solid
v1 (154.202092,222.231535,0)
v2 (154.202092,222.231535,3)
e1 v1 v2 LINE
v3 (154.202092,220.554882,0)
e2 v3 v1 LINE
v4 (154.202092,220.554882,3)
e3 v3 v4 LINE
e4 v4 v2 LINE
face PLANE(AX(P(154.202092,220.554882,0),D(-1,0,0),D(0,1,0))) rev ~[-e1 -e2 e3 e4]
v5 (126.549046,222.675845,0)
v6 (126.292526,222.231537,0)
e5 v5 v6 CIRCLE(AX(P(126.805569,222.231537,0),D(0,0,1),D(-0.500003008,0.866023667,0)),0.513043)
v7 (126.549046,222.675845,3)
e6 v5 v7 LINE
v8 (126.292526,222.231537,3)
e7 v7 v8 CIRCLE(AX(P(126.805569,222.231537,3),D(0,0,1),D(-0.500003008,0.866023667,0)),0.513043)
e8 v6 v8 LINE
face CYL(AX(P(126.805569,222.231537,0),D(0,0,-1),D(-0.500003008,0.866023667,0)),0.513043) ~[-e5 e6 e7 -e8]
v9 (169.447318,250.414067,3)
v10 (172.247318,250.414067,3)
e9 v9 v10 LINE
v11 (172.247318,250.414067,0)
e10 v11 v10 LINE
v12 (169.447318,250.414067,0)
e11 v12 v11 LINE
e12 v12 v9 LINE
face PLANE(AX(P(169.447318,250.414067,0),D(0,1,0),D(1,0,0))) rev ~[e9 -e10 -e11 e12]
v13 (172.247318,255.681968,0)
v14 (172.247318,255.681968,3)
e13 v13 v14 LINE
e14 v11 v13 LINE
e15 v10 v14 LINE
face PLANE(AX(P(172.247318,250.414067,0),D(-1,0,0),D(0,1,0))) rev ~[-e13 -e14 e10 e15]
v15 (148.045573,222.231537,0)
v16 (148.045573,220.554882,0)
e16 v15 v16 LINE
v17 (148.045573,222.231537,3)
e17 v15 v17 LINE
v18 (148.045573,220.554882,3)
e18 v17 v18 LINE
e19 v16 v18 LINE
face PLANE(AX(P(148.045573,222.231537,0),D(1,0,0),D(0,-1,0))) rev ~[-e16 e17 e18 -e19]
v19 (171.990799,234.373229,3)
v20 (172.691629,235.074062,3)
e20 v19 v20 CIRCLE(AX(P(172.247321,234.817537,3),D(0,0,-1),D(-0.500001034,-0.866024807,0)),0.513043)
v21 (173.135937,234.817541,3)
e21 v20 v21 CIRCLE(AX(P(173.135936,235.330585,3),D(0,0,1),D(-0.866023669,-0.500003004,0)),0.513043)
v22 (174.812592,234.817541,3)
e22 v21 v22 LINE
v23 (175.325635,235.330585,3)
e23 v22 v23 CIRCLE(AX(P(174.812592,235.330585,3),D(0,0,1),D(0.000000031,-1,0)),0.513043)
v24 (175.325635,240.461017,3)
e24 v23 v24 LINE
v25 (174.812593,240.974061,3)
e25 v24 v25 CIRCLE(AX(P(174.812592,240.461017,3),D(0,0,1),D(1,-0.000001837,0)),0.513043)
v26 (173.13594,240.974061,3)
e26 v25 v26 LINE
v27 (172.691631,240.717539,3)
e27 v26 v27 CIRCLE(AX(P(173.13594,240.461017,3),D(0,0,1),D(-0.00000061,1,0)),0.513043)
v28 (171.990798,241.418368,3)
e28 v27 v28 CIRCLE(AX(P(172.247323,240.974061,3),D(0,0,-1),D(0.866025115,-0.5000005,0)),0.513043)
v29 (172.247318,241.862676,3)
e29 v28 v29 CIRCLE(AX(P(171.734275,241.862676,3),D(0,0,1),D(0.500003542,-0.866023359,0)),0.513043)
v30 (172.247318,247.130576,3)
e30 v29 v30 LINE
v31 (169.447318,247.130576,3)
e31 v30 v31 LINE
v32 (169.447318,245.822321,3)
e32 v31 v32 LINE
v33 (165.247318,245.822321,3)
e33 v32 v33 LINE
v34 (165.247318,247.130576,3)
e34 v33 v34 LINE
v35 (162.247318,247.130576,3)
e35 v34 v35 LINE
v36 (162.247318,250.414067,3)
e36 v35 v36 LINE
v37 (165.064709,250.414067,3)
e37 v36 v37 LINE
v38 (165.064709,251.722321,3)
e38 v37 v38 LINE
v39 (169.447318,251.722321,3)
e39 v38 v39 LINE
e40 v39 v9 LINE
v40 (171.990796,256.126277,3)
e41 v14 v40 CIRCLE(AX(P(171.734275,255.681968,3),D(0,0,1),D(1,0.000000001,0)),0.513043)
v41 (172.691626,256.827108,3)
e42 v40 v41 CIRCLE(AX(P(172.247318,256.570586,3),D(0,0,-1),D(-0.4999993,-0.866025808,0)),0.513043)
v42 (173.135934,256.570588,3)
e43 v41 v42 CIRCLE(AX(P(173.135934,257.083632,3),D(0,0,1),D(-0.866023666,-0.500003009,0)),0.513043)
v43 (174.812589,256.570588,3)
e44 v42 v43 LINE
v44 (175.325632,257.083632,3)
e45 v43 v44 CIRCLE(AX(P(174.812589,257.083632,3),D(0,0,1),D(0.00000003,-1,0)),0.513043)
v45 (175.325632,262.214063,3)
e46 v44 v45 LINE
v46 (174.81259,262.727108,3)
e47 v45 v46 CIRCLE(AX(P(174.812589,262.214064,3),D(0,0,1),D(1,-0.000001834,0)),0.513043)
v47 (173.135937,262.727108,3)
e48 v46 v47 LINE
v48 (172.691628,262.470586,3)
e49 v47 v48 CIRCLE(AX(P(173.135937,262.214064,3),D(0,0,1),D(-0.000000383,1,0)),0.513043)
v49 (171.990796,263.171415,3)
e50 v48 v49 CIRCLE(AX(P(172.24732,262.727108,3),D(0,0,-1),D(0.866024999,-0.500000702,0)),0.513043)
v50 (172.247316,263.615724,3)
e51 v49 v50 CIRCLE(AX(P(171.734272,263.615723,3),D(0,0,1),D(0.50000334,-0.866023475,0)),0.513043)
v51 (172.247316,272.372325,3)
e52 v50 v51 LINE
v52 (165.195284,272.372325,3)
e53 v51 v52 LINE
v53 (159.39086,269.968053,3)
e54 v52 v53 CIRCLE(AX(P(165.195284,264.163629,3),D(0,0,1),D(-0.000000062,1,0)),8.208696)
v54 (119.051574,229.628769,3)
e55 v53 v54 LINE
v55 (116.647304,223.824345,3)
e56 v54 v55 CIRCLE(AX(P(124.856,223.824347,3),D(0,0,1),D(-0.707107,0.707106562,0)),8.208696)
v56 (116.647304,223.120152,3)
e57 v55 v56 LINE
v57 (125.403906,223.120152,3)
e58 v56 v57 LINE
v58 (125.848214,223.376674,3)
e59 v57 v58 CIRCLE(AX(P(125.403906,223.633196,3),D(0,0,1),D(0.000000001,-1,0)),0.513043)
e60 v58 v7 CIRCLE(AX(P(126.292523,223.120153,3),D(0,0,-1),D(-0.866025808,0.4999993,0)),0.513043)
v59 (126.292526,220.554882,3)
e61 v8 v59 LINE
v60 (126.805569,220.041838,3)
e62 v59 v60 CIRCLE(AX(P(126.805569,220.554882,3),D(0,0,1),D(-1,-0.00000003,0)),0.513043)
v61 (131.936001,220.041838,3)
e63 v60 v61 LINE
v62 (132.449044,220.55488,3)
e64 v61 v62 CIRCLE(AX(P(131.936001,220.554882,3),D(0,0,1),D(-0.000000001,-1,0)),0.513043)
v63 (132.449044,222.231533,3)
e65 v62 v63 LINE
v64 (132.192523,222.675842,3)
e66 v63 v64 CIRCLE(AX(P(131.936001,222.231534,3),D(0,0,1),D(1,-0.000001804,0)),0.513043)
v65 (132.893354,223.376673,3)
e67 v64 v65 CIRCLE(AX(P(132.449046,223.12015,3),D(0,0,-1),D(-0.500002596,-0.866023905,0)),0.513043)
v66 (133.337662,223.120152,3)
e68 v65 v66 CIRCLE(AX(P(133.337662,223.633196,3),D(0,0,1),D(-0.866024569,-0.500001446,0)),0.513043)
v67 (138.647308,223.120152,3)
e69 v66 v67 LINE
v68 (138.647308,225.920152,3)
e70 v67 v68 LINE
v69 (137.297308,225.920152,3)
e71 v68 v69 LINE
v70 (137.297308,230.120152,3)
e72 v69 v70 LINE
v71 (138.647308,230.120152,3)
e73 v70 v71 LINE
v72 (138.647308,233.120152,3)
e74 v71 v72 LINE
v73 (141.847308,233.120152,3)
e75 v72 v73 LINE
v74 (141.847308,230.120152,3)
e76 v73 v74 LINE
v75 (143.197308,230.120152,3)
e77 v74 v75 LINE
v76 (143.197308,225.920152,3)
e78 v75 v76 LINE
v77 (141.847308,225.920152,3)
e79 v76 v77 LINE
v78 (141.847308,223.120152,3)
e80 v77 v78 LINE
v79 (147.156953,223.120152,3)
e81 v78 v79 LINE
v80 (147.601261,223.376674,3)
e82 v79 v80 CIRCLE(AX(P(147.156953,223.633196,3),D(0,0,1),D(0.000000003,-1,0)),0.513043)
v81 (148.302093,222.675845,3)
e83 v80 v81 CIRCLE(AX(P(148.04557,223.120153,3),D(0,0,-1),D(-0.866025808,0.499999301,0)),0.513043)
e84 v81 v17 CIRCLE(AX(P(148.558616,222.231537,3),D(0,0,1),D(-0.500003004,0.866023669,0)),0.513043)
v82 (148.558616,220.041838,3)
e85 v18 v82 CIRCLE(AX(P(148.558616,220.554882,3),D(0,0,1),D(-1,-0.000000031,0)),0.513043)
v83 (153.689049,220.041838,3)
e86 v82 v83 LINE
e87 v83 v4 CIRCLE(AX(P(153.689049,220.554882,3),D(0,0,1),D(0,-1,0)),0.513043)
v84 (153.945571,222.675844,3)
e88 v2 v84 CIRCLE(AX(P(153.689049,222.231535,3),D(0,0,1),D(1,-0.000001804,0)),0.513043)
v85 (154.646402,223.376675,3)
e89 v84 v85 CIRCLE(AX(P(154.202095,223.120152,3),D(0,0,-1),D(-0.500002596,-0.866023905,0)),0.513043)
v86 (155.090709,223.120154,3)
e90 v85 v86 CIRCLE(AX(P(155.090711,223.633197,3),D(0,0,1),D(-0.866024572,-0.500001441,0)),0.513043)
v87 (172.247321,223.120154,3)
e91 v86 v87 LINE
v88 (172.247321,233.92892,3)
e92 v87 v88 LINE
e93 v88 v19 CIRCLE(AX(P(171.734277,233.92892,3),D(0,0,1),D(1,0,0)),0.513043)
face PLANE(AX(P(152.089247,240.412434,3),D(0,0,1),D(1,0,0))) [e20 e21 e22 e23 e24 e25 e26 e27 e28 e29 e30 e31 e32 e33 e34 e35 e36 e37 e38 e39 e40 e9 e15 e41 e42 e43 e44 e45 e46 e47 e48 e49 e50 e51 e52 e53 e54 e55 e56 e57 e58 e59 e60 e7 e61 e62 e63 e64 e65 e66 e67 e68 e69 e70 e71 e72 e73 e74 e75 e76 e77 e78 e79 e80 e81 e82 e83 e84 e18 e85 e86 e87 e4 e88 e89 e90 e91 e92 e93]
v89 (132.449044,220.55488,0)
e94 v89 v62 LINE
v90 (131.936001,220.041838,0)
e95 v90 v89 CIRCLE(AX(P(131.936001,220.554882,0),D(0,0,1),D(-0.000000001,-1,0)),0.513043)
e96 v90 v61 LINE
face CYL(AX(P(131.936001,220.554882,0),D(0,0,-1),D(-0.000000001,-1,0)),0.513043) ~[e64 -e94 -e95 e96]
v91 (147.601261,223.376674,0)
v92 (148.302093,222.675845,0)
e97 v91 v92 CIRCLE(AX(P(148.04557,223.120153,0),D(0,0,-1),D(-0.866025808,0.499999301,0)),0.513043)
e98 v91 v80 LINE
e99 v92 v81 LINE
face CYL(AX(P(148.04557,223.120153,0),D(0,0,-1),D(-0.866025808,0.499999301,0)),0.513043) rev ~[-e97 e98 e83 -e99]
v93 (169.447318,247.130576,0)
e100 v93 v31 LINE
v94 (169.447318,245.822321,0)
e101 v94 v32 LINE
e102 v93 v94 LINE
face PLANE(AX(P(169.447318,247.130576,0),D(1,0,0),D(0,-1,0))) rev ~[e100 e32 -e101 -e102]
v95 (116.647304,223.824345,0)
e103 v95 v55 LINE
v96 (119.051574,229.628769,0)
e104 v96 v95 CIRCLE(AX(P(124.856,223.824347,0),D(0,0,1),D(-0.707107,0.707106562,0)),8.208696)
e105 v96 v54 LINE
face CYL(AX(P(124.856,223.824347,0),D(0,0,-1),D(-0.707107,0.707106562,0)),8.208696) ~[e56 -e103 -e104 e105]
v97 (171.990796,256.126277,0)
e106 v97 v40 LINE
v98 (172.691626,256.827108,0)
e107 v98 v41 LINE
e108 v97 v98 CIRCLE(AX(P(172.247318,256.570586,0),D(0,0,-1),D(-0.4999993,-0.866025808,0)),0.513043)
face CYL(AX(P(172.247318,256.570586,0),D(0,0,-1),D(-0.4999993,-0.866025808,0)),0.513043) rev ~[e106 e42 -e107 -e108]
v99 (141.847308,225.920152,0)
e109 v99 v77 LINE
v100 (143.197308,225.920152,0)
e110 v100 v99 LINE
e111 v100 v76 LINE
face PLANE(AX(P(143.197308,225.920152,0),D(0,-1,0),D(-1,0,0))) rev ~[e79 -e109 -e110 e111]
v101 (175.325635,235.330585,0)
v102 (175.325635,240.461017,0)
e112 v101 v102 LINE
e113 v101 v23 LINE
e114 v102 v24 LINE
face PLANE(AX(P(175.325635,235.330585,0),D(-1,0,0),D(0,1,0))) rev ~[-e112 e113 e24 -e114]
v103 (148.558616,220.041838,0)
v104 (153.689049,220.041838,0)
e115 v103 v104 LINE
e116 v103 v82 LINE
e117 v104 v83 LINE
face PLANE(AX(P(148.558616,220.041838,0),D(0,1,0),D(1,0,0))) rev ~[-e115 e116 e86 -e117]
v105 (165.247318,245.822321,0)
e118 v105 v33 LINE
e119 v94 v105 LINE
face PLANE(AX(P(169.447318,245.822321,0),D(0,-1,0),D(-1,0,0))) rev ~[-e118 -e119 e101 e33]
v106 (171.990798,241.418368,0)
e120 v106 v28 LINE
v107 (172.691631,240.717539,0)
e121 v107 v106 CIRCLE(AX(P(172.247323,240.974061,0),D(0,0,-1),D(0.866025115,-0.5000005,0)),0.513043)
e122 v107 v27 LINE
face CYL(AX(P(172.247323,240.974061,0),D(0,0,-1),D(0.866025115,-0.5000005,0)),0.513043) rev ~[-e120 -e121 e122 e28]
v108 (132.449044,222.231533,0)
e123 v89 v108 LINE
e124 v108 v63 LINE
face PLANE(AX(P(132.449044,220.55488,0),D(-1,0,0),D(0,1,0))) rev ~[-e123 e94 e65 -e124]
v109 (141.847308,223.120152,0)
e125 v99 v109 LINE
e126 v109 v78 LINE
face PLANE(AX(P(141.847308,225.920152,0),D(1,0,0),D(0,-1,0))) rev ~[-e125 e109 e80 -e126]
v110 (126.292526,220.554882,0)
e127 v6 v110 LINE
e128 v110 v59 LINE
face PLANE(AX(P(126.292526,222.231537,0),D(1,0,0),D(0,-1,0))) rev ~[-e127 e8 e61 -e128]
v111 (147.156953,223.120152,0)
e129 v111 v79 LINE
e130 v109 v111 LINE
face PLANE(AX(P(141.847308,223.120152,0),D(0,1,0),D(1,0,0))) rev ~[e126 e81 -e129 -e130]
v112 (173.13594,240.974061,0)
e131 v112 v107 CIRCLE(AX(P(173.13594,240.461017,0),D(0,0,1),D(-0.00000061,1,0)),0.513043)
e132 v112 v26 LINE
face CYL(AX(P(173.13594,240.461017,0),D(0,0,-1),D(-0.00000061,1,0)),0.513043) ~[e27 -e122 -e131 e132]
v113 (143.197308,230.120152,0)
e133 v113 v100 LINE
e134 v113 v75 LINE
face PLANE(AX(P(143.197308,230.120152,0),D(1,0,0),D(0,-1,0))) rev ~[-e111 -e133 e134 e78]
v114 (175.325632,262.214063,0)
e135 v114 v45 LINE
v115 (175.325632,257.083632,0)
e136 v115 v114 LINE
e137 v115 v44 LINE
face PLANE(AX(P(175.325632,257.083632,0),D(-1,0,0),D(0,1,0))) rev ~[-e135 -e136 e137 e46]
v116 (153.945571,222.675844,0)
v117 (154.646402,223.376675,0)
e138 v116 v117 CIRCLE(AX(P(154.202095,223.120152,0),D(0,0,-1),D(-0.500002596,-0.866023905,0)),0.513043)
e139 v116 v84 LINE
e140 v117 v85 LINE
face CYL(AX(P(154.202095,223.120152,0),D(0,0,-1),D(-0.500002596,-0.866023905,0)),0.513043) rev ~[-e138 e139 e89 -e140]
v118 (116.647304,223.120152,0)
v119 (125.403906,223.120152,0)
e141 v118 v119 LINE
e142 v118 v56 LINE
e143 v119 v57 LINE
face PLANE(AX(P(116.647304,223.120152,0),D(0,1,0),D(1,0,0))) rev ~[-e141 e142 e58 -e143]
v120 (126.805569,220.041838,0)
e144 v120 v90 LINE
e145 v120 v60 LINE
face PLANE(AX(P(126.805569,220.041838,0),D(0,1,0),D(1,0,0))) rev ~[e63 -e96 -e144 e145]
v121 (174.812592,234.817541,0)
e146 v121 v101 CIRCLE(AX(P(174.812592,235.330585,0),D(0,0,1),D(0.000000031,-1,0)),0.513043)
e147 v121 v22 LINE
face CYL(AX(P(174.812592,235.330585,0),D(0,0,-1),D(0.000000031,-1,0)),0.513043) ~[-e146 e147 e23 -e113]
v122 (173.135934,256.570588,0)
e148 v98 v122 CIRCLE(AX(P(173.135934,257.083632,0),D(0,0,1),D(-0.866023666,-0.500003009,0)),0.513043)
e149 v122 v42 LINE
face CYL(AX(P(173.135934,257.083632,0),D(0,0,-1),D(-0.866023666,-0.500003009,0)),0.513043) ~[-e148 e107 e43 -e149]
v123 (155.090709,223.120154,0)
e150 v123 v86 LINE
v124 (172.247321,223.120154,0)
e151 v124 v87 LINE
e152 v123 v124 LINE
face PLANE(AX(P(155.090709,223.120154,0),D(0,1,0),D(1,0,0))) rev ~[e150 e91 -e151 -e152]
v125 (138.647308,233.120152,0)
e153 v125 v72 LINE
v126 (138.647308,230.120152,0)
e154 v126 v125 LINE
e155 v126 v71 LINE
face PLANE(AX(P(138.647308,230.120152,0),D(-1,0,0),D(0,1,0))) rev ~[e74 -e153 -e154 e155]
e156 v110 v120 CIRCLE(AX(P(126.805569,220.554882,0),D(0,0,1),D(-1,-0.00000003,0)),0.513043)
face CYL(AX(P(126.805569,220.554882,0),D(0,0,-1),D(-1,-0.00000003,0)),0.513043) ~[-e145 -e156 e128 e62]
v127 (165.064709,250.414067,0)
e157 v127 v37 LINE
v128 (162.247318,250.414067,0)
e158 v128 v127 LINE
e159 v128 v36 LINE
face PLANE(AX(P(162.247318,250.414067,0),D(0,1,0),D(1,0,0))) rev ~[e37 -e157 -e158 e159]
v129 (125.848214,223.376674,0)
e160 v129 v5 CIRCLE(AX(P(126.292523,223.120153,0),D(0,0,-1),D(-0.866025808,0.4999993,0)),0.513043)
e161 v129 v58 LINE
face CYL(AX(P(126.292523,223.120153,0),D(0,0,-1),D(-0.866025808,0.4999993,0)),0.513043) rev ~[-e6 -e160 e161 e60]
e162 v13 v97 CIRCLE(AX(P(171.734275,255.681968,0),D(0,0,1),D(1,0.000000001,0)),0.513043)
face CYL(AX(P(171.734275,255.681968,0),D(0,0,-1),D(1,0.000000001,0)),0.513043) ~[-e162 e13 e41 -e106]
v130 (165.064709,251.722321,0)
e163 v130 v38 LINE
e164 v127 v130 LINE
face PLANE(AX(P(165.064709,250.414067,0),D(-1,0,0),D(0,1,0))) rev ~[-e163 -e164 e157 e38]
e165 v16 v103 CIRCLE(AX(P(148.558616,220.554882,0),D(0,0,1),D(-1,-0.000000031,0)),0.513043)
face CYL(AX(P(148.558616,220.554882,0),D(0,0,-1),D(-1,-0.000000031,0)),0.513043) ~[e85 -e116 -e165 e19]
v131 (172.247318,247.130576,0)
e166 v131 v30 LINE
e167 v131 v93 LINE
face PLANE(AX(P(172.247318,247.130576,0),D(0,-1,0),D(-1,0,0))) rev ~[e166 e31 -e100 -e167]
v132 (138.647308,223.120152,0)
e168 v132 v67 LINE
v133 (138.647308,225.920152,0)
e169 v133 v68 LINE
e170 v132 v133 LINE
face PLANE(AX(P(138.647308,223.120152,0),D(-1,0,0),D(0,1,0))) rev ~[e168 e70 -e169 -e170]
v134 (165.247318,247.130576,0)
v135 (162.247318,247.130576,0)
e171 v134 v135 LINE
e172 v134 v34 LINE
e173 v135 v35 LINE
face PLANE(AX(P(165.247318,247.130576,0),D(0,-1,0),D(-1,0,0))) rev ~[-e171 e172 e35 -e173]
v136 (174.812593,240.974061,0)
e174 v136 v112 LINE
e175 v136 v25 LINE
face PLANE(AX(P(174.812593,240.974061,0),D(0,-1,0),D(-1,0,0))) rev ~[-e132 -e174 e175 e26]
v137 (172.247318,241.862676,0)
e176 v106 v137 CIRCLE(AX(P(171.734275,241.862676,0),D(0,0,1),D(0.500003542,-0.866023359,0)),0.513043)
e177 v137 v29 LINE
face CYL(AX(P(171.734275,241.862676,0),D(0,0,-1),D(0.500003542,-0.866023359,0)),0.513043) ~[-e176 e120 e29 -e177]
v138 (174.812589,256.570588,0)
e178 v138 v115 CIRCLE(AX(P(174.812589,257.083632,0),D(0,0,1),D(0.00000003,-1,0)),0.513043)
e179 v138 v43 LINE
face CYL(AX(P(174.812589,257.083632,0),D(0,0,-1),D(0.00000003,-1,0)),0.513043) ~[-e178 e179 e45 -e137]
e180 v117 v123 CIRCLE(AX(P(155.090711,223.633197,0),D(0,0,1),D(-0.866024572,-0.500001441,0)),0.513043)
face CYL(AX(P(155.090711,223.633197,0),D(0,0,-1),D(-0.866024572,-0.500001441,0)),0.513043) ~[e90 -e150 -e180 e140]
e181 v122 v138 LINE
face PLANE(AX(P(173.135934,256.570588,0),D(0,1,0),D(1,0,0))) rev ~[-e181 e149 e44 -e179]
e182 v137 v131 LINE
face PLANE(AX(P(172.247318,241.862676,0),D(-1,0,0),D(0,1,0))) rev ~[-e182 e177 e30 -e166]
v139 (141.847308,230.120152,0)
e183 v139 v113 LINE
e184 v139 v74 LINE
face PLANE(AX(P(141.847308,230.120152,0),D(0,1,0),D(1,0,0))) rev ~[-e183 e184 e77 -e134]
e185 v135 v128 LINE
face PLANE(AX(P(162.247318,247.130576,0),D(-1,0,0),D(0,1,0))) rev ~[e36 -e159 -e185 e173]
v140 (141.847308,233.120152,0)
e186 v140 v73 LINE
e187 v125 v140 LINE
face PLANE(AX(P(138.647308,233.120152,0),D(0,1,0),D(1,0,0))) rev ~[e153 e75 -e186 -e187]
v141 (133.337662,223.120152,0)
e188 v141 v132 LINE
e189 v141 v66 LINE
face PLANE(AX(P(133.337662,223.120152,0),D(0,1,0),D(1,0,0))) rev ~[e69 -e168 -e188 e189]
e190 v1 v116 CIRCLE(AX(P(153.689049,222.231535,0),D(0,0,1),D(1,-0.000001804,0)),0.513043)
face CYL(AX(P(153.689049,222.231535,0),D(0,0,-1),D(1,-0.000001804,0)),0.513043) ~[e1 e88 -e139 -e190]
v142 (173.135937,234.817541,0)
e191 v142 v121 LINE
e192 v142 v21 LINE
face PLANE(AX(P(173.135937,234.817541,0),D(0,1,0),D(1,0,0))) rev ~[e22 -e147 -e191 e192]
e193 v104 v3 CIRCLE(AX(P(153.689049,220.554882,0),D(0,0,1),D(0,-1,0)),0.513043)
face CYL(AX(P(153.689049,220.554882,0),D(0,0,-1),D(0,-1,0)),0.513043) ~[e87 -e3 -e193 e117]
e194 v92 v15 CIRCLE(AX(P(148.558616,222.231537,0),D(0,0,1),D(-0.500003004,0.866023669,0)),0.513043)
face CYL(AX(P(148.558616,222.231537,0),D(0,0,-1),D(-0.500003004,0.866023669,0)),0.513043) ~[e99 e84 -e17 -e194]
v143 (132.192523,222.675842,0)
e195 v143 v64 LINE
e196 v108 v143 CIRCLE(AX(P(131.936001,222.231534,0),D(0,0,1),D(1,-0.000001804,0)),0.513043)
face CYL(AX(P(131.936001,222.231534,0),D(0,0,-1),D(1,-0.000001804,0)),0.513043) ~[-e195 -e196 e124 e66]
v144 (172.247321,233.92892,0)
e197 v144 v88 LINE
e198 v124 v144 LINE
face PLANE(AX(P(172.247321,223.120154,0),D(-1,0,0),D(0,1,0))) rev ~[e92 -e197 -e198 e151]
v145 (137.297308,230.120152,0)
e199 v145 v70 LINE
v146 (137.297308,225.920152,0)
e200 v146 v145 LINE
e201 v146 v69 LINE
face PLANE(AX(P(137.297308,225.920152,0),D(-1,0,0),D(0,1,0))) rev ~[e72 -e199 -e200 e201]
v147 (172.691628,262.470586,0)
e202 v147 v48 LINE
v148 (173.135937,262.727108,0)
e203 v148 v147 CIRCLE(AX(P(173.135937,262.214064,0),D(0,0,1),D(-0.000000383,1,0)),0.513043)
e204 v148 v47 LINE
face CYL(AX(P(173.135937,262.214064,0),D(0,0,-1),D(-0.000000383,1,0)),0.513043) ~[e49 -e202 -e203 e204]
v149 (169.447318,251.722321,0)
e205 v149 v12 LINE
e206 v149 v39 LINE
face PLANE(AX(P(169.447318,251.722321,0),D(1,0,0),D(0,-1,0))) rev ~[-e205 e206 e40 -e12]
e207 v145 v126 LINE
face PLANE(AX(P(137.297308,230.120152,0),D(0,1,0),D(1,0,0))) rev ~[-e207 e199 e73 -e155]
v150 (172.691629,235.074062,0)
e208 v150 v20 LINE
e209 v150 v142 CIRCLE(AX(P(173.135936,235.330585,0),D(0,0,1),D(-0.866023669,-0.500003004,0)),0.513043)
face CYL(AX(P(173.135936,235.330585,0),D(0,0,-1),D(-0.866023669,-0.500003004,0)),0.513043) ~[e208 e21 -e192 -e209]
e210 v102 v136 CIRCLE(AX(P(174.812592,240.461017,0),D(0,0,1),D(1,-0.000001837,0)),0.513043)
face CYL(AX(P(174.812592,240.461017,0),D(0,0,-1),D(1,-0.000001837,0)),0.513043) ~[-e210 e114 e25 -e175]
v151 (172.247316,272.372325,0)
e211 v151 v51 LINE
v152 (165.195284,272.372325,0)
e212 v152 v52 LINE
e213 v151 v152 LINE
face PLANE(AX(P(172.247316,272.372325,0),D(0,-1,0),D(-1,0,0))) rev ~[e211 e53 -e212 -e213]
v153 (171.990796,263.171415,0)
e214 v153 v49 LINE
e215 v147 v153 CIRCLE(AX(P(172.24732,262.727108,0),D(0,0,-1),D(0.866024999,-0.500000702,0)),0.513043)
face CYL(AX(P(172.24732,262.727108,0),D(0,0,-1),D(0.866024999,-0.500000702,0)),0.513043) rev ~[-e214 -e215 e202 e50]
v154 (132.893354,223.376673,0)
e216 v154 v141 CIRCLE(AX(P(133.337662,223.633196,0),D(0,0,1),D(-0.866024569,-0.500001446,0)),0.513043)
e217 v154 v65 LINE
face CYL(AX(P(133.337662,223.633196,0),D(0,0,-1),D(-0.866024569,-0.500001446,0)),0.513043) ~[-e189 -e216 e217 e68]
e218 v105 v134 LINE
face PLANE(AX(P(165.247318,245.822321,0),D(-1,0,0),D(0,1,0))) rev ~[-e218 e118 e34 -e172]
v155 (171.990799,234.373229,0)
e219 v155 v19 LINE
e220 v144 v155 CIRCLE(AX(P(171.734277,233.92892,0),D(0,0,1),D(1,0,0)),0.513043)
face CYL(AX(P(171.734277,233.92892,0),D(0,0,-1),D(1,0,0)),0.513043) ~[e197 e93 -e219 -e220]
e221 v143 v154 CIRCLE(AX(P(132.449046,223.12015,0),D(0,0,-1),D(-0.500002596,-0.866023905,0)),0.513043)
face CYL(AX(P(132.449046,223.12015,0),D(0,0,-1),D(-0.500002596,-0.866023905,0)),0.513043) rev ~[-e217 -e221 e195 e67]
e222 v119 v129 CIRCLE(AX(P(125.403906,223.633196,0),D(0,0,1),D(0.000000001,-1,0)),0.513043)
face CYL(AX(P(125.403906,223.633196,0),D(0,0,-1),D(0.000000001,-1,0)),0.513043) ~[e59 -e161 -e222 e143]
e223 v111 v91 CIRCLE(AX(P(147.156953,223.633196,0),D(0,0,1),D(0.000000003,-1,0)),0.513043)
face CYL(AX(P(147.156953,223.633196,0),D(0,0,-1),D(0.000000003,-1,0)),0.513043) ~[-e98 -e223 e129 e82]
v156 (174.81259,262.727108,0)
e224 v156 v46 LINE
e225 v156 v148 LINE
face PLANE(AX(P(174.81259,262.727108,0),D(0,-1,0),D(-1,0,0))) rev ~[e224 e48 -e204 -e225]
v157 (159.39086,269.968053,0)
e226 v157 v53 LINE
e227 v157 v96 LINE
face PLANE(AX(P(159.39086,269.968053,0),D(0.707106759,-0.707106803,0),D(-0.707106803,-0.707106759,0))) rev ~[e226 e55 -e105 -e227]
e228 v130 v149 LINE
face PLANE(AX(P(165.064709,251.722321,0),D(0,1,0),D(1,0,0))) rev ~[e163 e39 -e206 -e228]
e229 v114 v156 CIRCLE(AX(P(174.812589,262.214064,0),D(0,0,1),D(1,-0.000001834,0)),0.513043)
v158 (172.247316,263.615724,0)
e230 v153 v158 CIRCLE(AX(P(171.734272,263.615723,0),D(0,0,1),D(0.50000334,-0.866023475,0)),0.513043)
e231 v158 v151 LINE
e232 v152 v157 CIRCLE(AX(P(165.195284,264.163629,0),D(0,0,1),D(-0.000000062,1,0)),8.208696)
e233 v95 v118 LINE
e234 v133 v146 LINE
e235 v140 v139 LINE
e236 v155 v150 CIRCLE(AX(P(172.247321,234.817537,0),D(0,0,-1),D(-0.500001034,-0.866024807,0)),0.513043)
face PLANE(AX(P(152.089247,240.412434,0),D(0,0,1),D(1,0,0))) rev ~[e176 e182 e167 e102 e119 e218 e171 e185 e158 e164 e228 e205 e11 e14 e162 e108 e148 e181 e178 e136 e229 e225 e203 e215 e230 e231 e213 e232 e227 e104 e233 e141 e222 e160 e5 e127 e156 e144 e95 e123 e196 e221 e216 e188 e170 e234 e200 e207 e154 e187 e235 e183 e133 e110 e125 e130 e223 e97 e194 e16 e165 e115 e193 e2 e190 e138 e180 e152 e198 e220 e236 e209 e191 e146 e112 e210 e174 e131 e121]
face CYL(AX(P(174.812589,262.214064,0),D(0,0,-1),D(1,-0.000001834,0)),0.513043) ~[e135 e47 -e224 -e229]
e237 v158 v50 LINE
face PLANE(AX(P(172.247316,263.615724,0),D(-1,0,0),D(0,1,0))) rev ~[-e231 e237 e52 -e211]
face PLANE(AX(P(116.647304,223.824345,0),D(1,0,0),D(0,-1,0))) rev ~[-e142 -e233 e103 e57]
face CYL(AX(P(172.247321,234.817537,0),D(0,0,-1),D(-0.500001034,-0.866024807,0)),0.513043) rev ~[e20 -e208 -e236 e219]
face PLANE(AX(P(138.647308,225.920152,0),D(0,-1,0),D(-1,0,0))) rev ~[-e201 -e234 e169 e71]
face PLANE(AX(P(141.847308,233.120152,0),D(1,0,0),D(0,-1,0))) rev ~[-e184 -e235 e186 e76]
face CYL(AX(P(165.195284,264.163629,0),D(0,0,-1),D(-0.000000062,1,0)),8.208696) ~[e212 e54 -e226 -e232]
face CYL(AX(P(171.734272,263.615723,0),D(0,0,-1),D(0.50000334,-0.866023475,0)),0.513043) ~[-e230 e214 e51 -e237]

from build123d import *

# Parameters (mm, degrees)
BOSS_EXTRUDE1_DEPTH = 3


with BuildPart() as part:
    # Sketch1 → Boss-Extrude1 (new body)
    with BuildSketch(Plane.XY):
        with BuildLine():
            Line((154.202092406, 220.554881742), (154.202092406, 222.231534508))
            ThreePointArc((154.202092406, 222.231534508), (154.133358076, 222.488056371), (153.945571469, 222.675843656))
            ThreePointArc((153.945571469, 222.675843656), (153.839317887, 223.482927965), (154.646402272, 223.376674963))
            ThreePointArc((154.646402272, 223.376674963), (154.834188461, 223.188888947), (155.090708914, 223.120153964))
            Line((155.090708914, 223.120153964), (172.247320861, 223.120153964))
            Line((172.247320861, 223.120153964), (172.247320861, 233.928920262))
            ThreePointArc((172.247320861, 233.928920262), (172.178586068, 234.185442001), (171.990799121, 234.373228947))
            ThreePointArc((171.990799121, 234.373228947), (171.884544083, 235.180313064), (172.69162866, 235.074061519))
            ThreePointArc((172.69162866, 235.074061519), (172.879415632, 234.886275586), (173.135936791, 234.817541323))
            Line((173.135936791, 234.817541323), (174.812591608, 234.817541323))
            ThreePointArc((174.812591608, 234.817541323), (175.175368126, 234.96780829), (175.325635071, 235.330584817))
            Line((175.325635071, 235.330584817), (175.325635071, 240.461016521))
            ThreePointArc((175.325635071, 240.461016521), (175.175368781, 240.82379332), (174.812592535, 240.974060941))
            Line((174.812592535, 240.974060941), (173.135939769, 240.974060941))
            ThreePointArc((173.135939769, 240.974060941), (172.879418072, 240.905325991), (172.691631242, 240.717538929))
            ThreePointArc((172.691631242, 240.717538929), (171.88454719, 240.611283394), (171.990798239, 241.418368036))
            ThreePointArc((171.990798239, 241.418368036), (172.178584056, 241.606155124), (172.247318162, 241.862676325))
            Line((172.247318162, 241.862676325), (172.247318162, 247.130575977))
            Line((172.247318162, 247.130575977), (169.447318162, 247.130575977))
            Line((169.447318162, 247.130575977), (169.447318162, 245.822321264))
            Line((169.447318162, 245.822321264), (165.247318162, 245.822321264))
            Line((165.247318162, 245.822321264), (165.247318162, 247.130575977))
            Line((165.247318162, 247.130575977), (162.247318162, 247.130575977))
            Line((162.247318162, 247.130575977), (162.247318162, 250.414066551))
            Line((162.247318162, 250.414066551), (165.064709466, 250.414066551))
            Line((165.064709466, 250.414066551), (165.064709466, 251.722321264))
            Line((165.064709466, 251.722321264), (169.447318162, 251.722321264))
            Line((169.447318162, 251.722321264), (169.447318162, 250.414066551))
            Line((169.447318162, 250.414066551), (172.247318162, 250.414066551))
            Line((172.247318162, 250.414066551), (172.247318162, 255.681968256))
            ThreePointArc((172.247318162, 255.681968256), (172.178583369, 255.938489995), (171.990796423, 256.126276941))
            ThreePointArc((171.990796423, 256.126276941), (171.884540761, 256.933361837), (172.691625961, 256.827108487))
            ThreePointArc((172.691625961, 256.827108487), (172.879412934, 256.639322554), (173.135934092, 256.57058829))
            Line((173.135934092, 256.57058829), (174.81258891, 256.57058829))
            ThreePointArc((174.81258891, 256.57058829), (175.175365428, 256.720855257), (175.325632372, 257.083631785))
            Line((175.325632372, 257.083631785), (175.325632372, 262.214063489))
            ThreePointArc((175.325632372, 262.214063489), (175.175366082, 262.576840287), (174.812589836, 262.727107909))
            Line((174.812589836, 262.727107909), (173.135937071, 262.727107909))
            ThreePointArc((173.135937071, 262.727107909), (172.879415358, 262.658373018), (172.691628483, 262.470586))
            ThreePointArc((172.691628483, 262.470586), (171.884544407, 262.364330653), (171.990795644, 263.17141527))
            ThreePointArc((171.990795644, 263.17141527), (172.178581505, 263.359202315), (172.24731567, 263.6157235))
            Line((172.24731567, 263.6157235), (172.24731567, 272.372324682))
            Line((172.24731567, 272.372324682), (165.195283942, 272.372324682))
            ThreePointArc((165.195283942, 272.372324682), (162.053952222, 271.747474765), (159.390859837, 269.968053135))
            Line((159.390859837, 269.968053135), (119.051573553, 229.628769332))
            ThreePointArc((119.051573553, 229.628769332), (117.272153027, 226.965676711), (116.647304057, 223.824345228))
            Line((116.647304057, 223.824345228), (116.647304057, 223.120152431))
            Line((116.647304057, 223.120152431), (125.403905518, 223.120152431))
            ThreePointArc((125.403905518, 223.120152431), (125.660427257, 223.188887224), (125.848214203, 223.37667417))
            ThreePointArc((125.848214203, 223.37667417), (126.655299099, 223.482929832), (126.549045749, 222.675844632))
            ThreePointArc((126.549045749, 222.675844632), (126.361259816, 222.488057659), (126.292525553, 222.231536501))
            Line((126.292525553, 222.231536501), (126.292525553, 220.554881683))
            ThreePointArc((126.292525553, 220.554881683), (126.442792519, 220.192105166), (126.805569047, 220.041838221))
            Line((126.805569047, 220.041838221), (131.936000751, 220.041838221))
            ThreePointArc((131.936000751, 220.041838221), (132.298776762, 220.192104665), (132.449044229, 220.554880252))
            Line((132.449044229, 220.554880252), (132.449044229, 222.231533018))
            ThreePointArc((132.449044229, 222.231533018), (132.380309899, 222.488054881), (132.192523292, 222.675842166))
            ThreePointArc((132.192523292, 222.675842166), (132.08626971, 223.482926475), (132.893354095, 223.376673473))
            ThreePointArc((132.893354095, 223.376673473), (133.081140729, 223.188887201), (133.337661764, 223.120152474))
            Line((133.337661764, 223.120152474), (138.647308242, 223.120152474))
            Line((138.647308242, 223.120152474), (138.647308242, 225.920152474))
            Line((138.647308242, 225.920152474), (137.297308242, 225.920152474))
            Line((137.297308242, 225.920152474), (137.297308242, 230.120152474))
            Line((137.297308242, 230.120152474), (138.647308242, 230.120152474))
            Line((138.647308242, 230.120152474), (138.647308242, 233.120152474))
            Line((138.647308242, 233.120152474), (141.847308242, 233.120152474))
            Line((141.847308242, 233.120152474), (141.847308242, 230.120152474))
            Line((141.847308242, 230.120152474), (143.197308242, 230.120152474))
            Line((143.197308242, 230.120152474), (143.197308242, 225.920152474))
            Line((143.197308242, 225.920152474), (141.847308242, 225.920152474))
            Line((141.847308242, 225.920152474), (141.847308242, 223.120152474))
            Line((141.847308242, 223.120152474), (147.156952668, 223.120152474))
            ThreePointArc((147.156952668, 223.120152474), (147.413474407, 223.188887267), (147.601261354, 223.376674213))
            ThreePointArc((147.601261354, 223.376674213), (148.408346249, 223.482929875), (148.302092899, 222.675844675))
            ThreePointArc((148.302092899, 222.675844675), (148.114306966, 222.488057703), (148.045572703, 222.231536544))
            Line((148.045572703, 222.231536544), (148.045572703, 220.554881727))
            ThreePointArc((148.045572703, 220.554881727), (148.19583967, 220.192105209), (148.558616197, 220.041838264))
            Line((148.558616197, 220.041838264), (153.689048927, 220.041838264))
            ThreePointArc((153.689048927, 220.041838264), (154.05182545, 220.19210522), (154.202092406, 220.554881742))
        make_face()
    extrude(amount=BOSS_EXTRUDE1_DEPTH)


solid = part.part
